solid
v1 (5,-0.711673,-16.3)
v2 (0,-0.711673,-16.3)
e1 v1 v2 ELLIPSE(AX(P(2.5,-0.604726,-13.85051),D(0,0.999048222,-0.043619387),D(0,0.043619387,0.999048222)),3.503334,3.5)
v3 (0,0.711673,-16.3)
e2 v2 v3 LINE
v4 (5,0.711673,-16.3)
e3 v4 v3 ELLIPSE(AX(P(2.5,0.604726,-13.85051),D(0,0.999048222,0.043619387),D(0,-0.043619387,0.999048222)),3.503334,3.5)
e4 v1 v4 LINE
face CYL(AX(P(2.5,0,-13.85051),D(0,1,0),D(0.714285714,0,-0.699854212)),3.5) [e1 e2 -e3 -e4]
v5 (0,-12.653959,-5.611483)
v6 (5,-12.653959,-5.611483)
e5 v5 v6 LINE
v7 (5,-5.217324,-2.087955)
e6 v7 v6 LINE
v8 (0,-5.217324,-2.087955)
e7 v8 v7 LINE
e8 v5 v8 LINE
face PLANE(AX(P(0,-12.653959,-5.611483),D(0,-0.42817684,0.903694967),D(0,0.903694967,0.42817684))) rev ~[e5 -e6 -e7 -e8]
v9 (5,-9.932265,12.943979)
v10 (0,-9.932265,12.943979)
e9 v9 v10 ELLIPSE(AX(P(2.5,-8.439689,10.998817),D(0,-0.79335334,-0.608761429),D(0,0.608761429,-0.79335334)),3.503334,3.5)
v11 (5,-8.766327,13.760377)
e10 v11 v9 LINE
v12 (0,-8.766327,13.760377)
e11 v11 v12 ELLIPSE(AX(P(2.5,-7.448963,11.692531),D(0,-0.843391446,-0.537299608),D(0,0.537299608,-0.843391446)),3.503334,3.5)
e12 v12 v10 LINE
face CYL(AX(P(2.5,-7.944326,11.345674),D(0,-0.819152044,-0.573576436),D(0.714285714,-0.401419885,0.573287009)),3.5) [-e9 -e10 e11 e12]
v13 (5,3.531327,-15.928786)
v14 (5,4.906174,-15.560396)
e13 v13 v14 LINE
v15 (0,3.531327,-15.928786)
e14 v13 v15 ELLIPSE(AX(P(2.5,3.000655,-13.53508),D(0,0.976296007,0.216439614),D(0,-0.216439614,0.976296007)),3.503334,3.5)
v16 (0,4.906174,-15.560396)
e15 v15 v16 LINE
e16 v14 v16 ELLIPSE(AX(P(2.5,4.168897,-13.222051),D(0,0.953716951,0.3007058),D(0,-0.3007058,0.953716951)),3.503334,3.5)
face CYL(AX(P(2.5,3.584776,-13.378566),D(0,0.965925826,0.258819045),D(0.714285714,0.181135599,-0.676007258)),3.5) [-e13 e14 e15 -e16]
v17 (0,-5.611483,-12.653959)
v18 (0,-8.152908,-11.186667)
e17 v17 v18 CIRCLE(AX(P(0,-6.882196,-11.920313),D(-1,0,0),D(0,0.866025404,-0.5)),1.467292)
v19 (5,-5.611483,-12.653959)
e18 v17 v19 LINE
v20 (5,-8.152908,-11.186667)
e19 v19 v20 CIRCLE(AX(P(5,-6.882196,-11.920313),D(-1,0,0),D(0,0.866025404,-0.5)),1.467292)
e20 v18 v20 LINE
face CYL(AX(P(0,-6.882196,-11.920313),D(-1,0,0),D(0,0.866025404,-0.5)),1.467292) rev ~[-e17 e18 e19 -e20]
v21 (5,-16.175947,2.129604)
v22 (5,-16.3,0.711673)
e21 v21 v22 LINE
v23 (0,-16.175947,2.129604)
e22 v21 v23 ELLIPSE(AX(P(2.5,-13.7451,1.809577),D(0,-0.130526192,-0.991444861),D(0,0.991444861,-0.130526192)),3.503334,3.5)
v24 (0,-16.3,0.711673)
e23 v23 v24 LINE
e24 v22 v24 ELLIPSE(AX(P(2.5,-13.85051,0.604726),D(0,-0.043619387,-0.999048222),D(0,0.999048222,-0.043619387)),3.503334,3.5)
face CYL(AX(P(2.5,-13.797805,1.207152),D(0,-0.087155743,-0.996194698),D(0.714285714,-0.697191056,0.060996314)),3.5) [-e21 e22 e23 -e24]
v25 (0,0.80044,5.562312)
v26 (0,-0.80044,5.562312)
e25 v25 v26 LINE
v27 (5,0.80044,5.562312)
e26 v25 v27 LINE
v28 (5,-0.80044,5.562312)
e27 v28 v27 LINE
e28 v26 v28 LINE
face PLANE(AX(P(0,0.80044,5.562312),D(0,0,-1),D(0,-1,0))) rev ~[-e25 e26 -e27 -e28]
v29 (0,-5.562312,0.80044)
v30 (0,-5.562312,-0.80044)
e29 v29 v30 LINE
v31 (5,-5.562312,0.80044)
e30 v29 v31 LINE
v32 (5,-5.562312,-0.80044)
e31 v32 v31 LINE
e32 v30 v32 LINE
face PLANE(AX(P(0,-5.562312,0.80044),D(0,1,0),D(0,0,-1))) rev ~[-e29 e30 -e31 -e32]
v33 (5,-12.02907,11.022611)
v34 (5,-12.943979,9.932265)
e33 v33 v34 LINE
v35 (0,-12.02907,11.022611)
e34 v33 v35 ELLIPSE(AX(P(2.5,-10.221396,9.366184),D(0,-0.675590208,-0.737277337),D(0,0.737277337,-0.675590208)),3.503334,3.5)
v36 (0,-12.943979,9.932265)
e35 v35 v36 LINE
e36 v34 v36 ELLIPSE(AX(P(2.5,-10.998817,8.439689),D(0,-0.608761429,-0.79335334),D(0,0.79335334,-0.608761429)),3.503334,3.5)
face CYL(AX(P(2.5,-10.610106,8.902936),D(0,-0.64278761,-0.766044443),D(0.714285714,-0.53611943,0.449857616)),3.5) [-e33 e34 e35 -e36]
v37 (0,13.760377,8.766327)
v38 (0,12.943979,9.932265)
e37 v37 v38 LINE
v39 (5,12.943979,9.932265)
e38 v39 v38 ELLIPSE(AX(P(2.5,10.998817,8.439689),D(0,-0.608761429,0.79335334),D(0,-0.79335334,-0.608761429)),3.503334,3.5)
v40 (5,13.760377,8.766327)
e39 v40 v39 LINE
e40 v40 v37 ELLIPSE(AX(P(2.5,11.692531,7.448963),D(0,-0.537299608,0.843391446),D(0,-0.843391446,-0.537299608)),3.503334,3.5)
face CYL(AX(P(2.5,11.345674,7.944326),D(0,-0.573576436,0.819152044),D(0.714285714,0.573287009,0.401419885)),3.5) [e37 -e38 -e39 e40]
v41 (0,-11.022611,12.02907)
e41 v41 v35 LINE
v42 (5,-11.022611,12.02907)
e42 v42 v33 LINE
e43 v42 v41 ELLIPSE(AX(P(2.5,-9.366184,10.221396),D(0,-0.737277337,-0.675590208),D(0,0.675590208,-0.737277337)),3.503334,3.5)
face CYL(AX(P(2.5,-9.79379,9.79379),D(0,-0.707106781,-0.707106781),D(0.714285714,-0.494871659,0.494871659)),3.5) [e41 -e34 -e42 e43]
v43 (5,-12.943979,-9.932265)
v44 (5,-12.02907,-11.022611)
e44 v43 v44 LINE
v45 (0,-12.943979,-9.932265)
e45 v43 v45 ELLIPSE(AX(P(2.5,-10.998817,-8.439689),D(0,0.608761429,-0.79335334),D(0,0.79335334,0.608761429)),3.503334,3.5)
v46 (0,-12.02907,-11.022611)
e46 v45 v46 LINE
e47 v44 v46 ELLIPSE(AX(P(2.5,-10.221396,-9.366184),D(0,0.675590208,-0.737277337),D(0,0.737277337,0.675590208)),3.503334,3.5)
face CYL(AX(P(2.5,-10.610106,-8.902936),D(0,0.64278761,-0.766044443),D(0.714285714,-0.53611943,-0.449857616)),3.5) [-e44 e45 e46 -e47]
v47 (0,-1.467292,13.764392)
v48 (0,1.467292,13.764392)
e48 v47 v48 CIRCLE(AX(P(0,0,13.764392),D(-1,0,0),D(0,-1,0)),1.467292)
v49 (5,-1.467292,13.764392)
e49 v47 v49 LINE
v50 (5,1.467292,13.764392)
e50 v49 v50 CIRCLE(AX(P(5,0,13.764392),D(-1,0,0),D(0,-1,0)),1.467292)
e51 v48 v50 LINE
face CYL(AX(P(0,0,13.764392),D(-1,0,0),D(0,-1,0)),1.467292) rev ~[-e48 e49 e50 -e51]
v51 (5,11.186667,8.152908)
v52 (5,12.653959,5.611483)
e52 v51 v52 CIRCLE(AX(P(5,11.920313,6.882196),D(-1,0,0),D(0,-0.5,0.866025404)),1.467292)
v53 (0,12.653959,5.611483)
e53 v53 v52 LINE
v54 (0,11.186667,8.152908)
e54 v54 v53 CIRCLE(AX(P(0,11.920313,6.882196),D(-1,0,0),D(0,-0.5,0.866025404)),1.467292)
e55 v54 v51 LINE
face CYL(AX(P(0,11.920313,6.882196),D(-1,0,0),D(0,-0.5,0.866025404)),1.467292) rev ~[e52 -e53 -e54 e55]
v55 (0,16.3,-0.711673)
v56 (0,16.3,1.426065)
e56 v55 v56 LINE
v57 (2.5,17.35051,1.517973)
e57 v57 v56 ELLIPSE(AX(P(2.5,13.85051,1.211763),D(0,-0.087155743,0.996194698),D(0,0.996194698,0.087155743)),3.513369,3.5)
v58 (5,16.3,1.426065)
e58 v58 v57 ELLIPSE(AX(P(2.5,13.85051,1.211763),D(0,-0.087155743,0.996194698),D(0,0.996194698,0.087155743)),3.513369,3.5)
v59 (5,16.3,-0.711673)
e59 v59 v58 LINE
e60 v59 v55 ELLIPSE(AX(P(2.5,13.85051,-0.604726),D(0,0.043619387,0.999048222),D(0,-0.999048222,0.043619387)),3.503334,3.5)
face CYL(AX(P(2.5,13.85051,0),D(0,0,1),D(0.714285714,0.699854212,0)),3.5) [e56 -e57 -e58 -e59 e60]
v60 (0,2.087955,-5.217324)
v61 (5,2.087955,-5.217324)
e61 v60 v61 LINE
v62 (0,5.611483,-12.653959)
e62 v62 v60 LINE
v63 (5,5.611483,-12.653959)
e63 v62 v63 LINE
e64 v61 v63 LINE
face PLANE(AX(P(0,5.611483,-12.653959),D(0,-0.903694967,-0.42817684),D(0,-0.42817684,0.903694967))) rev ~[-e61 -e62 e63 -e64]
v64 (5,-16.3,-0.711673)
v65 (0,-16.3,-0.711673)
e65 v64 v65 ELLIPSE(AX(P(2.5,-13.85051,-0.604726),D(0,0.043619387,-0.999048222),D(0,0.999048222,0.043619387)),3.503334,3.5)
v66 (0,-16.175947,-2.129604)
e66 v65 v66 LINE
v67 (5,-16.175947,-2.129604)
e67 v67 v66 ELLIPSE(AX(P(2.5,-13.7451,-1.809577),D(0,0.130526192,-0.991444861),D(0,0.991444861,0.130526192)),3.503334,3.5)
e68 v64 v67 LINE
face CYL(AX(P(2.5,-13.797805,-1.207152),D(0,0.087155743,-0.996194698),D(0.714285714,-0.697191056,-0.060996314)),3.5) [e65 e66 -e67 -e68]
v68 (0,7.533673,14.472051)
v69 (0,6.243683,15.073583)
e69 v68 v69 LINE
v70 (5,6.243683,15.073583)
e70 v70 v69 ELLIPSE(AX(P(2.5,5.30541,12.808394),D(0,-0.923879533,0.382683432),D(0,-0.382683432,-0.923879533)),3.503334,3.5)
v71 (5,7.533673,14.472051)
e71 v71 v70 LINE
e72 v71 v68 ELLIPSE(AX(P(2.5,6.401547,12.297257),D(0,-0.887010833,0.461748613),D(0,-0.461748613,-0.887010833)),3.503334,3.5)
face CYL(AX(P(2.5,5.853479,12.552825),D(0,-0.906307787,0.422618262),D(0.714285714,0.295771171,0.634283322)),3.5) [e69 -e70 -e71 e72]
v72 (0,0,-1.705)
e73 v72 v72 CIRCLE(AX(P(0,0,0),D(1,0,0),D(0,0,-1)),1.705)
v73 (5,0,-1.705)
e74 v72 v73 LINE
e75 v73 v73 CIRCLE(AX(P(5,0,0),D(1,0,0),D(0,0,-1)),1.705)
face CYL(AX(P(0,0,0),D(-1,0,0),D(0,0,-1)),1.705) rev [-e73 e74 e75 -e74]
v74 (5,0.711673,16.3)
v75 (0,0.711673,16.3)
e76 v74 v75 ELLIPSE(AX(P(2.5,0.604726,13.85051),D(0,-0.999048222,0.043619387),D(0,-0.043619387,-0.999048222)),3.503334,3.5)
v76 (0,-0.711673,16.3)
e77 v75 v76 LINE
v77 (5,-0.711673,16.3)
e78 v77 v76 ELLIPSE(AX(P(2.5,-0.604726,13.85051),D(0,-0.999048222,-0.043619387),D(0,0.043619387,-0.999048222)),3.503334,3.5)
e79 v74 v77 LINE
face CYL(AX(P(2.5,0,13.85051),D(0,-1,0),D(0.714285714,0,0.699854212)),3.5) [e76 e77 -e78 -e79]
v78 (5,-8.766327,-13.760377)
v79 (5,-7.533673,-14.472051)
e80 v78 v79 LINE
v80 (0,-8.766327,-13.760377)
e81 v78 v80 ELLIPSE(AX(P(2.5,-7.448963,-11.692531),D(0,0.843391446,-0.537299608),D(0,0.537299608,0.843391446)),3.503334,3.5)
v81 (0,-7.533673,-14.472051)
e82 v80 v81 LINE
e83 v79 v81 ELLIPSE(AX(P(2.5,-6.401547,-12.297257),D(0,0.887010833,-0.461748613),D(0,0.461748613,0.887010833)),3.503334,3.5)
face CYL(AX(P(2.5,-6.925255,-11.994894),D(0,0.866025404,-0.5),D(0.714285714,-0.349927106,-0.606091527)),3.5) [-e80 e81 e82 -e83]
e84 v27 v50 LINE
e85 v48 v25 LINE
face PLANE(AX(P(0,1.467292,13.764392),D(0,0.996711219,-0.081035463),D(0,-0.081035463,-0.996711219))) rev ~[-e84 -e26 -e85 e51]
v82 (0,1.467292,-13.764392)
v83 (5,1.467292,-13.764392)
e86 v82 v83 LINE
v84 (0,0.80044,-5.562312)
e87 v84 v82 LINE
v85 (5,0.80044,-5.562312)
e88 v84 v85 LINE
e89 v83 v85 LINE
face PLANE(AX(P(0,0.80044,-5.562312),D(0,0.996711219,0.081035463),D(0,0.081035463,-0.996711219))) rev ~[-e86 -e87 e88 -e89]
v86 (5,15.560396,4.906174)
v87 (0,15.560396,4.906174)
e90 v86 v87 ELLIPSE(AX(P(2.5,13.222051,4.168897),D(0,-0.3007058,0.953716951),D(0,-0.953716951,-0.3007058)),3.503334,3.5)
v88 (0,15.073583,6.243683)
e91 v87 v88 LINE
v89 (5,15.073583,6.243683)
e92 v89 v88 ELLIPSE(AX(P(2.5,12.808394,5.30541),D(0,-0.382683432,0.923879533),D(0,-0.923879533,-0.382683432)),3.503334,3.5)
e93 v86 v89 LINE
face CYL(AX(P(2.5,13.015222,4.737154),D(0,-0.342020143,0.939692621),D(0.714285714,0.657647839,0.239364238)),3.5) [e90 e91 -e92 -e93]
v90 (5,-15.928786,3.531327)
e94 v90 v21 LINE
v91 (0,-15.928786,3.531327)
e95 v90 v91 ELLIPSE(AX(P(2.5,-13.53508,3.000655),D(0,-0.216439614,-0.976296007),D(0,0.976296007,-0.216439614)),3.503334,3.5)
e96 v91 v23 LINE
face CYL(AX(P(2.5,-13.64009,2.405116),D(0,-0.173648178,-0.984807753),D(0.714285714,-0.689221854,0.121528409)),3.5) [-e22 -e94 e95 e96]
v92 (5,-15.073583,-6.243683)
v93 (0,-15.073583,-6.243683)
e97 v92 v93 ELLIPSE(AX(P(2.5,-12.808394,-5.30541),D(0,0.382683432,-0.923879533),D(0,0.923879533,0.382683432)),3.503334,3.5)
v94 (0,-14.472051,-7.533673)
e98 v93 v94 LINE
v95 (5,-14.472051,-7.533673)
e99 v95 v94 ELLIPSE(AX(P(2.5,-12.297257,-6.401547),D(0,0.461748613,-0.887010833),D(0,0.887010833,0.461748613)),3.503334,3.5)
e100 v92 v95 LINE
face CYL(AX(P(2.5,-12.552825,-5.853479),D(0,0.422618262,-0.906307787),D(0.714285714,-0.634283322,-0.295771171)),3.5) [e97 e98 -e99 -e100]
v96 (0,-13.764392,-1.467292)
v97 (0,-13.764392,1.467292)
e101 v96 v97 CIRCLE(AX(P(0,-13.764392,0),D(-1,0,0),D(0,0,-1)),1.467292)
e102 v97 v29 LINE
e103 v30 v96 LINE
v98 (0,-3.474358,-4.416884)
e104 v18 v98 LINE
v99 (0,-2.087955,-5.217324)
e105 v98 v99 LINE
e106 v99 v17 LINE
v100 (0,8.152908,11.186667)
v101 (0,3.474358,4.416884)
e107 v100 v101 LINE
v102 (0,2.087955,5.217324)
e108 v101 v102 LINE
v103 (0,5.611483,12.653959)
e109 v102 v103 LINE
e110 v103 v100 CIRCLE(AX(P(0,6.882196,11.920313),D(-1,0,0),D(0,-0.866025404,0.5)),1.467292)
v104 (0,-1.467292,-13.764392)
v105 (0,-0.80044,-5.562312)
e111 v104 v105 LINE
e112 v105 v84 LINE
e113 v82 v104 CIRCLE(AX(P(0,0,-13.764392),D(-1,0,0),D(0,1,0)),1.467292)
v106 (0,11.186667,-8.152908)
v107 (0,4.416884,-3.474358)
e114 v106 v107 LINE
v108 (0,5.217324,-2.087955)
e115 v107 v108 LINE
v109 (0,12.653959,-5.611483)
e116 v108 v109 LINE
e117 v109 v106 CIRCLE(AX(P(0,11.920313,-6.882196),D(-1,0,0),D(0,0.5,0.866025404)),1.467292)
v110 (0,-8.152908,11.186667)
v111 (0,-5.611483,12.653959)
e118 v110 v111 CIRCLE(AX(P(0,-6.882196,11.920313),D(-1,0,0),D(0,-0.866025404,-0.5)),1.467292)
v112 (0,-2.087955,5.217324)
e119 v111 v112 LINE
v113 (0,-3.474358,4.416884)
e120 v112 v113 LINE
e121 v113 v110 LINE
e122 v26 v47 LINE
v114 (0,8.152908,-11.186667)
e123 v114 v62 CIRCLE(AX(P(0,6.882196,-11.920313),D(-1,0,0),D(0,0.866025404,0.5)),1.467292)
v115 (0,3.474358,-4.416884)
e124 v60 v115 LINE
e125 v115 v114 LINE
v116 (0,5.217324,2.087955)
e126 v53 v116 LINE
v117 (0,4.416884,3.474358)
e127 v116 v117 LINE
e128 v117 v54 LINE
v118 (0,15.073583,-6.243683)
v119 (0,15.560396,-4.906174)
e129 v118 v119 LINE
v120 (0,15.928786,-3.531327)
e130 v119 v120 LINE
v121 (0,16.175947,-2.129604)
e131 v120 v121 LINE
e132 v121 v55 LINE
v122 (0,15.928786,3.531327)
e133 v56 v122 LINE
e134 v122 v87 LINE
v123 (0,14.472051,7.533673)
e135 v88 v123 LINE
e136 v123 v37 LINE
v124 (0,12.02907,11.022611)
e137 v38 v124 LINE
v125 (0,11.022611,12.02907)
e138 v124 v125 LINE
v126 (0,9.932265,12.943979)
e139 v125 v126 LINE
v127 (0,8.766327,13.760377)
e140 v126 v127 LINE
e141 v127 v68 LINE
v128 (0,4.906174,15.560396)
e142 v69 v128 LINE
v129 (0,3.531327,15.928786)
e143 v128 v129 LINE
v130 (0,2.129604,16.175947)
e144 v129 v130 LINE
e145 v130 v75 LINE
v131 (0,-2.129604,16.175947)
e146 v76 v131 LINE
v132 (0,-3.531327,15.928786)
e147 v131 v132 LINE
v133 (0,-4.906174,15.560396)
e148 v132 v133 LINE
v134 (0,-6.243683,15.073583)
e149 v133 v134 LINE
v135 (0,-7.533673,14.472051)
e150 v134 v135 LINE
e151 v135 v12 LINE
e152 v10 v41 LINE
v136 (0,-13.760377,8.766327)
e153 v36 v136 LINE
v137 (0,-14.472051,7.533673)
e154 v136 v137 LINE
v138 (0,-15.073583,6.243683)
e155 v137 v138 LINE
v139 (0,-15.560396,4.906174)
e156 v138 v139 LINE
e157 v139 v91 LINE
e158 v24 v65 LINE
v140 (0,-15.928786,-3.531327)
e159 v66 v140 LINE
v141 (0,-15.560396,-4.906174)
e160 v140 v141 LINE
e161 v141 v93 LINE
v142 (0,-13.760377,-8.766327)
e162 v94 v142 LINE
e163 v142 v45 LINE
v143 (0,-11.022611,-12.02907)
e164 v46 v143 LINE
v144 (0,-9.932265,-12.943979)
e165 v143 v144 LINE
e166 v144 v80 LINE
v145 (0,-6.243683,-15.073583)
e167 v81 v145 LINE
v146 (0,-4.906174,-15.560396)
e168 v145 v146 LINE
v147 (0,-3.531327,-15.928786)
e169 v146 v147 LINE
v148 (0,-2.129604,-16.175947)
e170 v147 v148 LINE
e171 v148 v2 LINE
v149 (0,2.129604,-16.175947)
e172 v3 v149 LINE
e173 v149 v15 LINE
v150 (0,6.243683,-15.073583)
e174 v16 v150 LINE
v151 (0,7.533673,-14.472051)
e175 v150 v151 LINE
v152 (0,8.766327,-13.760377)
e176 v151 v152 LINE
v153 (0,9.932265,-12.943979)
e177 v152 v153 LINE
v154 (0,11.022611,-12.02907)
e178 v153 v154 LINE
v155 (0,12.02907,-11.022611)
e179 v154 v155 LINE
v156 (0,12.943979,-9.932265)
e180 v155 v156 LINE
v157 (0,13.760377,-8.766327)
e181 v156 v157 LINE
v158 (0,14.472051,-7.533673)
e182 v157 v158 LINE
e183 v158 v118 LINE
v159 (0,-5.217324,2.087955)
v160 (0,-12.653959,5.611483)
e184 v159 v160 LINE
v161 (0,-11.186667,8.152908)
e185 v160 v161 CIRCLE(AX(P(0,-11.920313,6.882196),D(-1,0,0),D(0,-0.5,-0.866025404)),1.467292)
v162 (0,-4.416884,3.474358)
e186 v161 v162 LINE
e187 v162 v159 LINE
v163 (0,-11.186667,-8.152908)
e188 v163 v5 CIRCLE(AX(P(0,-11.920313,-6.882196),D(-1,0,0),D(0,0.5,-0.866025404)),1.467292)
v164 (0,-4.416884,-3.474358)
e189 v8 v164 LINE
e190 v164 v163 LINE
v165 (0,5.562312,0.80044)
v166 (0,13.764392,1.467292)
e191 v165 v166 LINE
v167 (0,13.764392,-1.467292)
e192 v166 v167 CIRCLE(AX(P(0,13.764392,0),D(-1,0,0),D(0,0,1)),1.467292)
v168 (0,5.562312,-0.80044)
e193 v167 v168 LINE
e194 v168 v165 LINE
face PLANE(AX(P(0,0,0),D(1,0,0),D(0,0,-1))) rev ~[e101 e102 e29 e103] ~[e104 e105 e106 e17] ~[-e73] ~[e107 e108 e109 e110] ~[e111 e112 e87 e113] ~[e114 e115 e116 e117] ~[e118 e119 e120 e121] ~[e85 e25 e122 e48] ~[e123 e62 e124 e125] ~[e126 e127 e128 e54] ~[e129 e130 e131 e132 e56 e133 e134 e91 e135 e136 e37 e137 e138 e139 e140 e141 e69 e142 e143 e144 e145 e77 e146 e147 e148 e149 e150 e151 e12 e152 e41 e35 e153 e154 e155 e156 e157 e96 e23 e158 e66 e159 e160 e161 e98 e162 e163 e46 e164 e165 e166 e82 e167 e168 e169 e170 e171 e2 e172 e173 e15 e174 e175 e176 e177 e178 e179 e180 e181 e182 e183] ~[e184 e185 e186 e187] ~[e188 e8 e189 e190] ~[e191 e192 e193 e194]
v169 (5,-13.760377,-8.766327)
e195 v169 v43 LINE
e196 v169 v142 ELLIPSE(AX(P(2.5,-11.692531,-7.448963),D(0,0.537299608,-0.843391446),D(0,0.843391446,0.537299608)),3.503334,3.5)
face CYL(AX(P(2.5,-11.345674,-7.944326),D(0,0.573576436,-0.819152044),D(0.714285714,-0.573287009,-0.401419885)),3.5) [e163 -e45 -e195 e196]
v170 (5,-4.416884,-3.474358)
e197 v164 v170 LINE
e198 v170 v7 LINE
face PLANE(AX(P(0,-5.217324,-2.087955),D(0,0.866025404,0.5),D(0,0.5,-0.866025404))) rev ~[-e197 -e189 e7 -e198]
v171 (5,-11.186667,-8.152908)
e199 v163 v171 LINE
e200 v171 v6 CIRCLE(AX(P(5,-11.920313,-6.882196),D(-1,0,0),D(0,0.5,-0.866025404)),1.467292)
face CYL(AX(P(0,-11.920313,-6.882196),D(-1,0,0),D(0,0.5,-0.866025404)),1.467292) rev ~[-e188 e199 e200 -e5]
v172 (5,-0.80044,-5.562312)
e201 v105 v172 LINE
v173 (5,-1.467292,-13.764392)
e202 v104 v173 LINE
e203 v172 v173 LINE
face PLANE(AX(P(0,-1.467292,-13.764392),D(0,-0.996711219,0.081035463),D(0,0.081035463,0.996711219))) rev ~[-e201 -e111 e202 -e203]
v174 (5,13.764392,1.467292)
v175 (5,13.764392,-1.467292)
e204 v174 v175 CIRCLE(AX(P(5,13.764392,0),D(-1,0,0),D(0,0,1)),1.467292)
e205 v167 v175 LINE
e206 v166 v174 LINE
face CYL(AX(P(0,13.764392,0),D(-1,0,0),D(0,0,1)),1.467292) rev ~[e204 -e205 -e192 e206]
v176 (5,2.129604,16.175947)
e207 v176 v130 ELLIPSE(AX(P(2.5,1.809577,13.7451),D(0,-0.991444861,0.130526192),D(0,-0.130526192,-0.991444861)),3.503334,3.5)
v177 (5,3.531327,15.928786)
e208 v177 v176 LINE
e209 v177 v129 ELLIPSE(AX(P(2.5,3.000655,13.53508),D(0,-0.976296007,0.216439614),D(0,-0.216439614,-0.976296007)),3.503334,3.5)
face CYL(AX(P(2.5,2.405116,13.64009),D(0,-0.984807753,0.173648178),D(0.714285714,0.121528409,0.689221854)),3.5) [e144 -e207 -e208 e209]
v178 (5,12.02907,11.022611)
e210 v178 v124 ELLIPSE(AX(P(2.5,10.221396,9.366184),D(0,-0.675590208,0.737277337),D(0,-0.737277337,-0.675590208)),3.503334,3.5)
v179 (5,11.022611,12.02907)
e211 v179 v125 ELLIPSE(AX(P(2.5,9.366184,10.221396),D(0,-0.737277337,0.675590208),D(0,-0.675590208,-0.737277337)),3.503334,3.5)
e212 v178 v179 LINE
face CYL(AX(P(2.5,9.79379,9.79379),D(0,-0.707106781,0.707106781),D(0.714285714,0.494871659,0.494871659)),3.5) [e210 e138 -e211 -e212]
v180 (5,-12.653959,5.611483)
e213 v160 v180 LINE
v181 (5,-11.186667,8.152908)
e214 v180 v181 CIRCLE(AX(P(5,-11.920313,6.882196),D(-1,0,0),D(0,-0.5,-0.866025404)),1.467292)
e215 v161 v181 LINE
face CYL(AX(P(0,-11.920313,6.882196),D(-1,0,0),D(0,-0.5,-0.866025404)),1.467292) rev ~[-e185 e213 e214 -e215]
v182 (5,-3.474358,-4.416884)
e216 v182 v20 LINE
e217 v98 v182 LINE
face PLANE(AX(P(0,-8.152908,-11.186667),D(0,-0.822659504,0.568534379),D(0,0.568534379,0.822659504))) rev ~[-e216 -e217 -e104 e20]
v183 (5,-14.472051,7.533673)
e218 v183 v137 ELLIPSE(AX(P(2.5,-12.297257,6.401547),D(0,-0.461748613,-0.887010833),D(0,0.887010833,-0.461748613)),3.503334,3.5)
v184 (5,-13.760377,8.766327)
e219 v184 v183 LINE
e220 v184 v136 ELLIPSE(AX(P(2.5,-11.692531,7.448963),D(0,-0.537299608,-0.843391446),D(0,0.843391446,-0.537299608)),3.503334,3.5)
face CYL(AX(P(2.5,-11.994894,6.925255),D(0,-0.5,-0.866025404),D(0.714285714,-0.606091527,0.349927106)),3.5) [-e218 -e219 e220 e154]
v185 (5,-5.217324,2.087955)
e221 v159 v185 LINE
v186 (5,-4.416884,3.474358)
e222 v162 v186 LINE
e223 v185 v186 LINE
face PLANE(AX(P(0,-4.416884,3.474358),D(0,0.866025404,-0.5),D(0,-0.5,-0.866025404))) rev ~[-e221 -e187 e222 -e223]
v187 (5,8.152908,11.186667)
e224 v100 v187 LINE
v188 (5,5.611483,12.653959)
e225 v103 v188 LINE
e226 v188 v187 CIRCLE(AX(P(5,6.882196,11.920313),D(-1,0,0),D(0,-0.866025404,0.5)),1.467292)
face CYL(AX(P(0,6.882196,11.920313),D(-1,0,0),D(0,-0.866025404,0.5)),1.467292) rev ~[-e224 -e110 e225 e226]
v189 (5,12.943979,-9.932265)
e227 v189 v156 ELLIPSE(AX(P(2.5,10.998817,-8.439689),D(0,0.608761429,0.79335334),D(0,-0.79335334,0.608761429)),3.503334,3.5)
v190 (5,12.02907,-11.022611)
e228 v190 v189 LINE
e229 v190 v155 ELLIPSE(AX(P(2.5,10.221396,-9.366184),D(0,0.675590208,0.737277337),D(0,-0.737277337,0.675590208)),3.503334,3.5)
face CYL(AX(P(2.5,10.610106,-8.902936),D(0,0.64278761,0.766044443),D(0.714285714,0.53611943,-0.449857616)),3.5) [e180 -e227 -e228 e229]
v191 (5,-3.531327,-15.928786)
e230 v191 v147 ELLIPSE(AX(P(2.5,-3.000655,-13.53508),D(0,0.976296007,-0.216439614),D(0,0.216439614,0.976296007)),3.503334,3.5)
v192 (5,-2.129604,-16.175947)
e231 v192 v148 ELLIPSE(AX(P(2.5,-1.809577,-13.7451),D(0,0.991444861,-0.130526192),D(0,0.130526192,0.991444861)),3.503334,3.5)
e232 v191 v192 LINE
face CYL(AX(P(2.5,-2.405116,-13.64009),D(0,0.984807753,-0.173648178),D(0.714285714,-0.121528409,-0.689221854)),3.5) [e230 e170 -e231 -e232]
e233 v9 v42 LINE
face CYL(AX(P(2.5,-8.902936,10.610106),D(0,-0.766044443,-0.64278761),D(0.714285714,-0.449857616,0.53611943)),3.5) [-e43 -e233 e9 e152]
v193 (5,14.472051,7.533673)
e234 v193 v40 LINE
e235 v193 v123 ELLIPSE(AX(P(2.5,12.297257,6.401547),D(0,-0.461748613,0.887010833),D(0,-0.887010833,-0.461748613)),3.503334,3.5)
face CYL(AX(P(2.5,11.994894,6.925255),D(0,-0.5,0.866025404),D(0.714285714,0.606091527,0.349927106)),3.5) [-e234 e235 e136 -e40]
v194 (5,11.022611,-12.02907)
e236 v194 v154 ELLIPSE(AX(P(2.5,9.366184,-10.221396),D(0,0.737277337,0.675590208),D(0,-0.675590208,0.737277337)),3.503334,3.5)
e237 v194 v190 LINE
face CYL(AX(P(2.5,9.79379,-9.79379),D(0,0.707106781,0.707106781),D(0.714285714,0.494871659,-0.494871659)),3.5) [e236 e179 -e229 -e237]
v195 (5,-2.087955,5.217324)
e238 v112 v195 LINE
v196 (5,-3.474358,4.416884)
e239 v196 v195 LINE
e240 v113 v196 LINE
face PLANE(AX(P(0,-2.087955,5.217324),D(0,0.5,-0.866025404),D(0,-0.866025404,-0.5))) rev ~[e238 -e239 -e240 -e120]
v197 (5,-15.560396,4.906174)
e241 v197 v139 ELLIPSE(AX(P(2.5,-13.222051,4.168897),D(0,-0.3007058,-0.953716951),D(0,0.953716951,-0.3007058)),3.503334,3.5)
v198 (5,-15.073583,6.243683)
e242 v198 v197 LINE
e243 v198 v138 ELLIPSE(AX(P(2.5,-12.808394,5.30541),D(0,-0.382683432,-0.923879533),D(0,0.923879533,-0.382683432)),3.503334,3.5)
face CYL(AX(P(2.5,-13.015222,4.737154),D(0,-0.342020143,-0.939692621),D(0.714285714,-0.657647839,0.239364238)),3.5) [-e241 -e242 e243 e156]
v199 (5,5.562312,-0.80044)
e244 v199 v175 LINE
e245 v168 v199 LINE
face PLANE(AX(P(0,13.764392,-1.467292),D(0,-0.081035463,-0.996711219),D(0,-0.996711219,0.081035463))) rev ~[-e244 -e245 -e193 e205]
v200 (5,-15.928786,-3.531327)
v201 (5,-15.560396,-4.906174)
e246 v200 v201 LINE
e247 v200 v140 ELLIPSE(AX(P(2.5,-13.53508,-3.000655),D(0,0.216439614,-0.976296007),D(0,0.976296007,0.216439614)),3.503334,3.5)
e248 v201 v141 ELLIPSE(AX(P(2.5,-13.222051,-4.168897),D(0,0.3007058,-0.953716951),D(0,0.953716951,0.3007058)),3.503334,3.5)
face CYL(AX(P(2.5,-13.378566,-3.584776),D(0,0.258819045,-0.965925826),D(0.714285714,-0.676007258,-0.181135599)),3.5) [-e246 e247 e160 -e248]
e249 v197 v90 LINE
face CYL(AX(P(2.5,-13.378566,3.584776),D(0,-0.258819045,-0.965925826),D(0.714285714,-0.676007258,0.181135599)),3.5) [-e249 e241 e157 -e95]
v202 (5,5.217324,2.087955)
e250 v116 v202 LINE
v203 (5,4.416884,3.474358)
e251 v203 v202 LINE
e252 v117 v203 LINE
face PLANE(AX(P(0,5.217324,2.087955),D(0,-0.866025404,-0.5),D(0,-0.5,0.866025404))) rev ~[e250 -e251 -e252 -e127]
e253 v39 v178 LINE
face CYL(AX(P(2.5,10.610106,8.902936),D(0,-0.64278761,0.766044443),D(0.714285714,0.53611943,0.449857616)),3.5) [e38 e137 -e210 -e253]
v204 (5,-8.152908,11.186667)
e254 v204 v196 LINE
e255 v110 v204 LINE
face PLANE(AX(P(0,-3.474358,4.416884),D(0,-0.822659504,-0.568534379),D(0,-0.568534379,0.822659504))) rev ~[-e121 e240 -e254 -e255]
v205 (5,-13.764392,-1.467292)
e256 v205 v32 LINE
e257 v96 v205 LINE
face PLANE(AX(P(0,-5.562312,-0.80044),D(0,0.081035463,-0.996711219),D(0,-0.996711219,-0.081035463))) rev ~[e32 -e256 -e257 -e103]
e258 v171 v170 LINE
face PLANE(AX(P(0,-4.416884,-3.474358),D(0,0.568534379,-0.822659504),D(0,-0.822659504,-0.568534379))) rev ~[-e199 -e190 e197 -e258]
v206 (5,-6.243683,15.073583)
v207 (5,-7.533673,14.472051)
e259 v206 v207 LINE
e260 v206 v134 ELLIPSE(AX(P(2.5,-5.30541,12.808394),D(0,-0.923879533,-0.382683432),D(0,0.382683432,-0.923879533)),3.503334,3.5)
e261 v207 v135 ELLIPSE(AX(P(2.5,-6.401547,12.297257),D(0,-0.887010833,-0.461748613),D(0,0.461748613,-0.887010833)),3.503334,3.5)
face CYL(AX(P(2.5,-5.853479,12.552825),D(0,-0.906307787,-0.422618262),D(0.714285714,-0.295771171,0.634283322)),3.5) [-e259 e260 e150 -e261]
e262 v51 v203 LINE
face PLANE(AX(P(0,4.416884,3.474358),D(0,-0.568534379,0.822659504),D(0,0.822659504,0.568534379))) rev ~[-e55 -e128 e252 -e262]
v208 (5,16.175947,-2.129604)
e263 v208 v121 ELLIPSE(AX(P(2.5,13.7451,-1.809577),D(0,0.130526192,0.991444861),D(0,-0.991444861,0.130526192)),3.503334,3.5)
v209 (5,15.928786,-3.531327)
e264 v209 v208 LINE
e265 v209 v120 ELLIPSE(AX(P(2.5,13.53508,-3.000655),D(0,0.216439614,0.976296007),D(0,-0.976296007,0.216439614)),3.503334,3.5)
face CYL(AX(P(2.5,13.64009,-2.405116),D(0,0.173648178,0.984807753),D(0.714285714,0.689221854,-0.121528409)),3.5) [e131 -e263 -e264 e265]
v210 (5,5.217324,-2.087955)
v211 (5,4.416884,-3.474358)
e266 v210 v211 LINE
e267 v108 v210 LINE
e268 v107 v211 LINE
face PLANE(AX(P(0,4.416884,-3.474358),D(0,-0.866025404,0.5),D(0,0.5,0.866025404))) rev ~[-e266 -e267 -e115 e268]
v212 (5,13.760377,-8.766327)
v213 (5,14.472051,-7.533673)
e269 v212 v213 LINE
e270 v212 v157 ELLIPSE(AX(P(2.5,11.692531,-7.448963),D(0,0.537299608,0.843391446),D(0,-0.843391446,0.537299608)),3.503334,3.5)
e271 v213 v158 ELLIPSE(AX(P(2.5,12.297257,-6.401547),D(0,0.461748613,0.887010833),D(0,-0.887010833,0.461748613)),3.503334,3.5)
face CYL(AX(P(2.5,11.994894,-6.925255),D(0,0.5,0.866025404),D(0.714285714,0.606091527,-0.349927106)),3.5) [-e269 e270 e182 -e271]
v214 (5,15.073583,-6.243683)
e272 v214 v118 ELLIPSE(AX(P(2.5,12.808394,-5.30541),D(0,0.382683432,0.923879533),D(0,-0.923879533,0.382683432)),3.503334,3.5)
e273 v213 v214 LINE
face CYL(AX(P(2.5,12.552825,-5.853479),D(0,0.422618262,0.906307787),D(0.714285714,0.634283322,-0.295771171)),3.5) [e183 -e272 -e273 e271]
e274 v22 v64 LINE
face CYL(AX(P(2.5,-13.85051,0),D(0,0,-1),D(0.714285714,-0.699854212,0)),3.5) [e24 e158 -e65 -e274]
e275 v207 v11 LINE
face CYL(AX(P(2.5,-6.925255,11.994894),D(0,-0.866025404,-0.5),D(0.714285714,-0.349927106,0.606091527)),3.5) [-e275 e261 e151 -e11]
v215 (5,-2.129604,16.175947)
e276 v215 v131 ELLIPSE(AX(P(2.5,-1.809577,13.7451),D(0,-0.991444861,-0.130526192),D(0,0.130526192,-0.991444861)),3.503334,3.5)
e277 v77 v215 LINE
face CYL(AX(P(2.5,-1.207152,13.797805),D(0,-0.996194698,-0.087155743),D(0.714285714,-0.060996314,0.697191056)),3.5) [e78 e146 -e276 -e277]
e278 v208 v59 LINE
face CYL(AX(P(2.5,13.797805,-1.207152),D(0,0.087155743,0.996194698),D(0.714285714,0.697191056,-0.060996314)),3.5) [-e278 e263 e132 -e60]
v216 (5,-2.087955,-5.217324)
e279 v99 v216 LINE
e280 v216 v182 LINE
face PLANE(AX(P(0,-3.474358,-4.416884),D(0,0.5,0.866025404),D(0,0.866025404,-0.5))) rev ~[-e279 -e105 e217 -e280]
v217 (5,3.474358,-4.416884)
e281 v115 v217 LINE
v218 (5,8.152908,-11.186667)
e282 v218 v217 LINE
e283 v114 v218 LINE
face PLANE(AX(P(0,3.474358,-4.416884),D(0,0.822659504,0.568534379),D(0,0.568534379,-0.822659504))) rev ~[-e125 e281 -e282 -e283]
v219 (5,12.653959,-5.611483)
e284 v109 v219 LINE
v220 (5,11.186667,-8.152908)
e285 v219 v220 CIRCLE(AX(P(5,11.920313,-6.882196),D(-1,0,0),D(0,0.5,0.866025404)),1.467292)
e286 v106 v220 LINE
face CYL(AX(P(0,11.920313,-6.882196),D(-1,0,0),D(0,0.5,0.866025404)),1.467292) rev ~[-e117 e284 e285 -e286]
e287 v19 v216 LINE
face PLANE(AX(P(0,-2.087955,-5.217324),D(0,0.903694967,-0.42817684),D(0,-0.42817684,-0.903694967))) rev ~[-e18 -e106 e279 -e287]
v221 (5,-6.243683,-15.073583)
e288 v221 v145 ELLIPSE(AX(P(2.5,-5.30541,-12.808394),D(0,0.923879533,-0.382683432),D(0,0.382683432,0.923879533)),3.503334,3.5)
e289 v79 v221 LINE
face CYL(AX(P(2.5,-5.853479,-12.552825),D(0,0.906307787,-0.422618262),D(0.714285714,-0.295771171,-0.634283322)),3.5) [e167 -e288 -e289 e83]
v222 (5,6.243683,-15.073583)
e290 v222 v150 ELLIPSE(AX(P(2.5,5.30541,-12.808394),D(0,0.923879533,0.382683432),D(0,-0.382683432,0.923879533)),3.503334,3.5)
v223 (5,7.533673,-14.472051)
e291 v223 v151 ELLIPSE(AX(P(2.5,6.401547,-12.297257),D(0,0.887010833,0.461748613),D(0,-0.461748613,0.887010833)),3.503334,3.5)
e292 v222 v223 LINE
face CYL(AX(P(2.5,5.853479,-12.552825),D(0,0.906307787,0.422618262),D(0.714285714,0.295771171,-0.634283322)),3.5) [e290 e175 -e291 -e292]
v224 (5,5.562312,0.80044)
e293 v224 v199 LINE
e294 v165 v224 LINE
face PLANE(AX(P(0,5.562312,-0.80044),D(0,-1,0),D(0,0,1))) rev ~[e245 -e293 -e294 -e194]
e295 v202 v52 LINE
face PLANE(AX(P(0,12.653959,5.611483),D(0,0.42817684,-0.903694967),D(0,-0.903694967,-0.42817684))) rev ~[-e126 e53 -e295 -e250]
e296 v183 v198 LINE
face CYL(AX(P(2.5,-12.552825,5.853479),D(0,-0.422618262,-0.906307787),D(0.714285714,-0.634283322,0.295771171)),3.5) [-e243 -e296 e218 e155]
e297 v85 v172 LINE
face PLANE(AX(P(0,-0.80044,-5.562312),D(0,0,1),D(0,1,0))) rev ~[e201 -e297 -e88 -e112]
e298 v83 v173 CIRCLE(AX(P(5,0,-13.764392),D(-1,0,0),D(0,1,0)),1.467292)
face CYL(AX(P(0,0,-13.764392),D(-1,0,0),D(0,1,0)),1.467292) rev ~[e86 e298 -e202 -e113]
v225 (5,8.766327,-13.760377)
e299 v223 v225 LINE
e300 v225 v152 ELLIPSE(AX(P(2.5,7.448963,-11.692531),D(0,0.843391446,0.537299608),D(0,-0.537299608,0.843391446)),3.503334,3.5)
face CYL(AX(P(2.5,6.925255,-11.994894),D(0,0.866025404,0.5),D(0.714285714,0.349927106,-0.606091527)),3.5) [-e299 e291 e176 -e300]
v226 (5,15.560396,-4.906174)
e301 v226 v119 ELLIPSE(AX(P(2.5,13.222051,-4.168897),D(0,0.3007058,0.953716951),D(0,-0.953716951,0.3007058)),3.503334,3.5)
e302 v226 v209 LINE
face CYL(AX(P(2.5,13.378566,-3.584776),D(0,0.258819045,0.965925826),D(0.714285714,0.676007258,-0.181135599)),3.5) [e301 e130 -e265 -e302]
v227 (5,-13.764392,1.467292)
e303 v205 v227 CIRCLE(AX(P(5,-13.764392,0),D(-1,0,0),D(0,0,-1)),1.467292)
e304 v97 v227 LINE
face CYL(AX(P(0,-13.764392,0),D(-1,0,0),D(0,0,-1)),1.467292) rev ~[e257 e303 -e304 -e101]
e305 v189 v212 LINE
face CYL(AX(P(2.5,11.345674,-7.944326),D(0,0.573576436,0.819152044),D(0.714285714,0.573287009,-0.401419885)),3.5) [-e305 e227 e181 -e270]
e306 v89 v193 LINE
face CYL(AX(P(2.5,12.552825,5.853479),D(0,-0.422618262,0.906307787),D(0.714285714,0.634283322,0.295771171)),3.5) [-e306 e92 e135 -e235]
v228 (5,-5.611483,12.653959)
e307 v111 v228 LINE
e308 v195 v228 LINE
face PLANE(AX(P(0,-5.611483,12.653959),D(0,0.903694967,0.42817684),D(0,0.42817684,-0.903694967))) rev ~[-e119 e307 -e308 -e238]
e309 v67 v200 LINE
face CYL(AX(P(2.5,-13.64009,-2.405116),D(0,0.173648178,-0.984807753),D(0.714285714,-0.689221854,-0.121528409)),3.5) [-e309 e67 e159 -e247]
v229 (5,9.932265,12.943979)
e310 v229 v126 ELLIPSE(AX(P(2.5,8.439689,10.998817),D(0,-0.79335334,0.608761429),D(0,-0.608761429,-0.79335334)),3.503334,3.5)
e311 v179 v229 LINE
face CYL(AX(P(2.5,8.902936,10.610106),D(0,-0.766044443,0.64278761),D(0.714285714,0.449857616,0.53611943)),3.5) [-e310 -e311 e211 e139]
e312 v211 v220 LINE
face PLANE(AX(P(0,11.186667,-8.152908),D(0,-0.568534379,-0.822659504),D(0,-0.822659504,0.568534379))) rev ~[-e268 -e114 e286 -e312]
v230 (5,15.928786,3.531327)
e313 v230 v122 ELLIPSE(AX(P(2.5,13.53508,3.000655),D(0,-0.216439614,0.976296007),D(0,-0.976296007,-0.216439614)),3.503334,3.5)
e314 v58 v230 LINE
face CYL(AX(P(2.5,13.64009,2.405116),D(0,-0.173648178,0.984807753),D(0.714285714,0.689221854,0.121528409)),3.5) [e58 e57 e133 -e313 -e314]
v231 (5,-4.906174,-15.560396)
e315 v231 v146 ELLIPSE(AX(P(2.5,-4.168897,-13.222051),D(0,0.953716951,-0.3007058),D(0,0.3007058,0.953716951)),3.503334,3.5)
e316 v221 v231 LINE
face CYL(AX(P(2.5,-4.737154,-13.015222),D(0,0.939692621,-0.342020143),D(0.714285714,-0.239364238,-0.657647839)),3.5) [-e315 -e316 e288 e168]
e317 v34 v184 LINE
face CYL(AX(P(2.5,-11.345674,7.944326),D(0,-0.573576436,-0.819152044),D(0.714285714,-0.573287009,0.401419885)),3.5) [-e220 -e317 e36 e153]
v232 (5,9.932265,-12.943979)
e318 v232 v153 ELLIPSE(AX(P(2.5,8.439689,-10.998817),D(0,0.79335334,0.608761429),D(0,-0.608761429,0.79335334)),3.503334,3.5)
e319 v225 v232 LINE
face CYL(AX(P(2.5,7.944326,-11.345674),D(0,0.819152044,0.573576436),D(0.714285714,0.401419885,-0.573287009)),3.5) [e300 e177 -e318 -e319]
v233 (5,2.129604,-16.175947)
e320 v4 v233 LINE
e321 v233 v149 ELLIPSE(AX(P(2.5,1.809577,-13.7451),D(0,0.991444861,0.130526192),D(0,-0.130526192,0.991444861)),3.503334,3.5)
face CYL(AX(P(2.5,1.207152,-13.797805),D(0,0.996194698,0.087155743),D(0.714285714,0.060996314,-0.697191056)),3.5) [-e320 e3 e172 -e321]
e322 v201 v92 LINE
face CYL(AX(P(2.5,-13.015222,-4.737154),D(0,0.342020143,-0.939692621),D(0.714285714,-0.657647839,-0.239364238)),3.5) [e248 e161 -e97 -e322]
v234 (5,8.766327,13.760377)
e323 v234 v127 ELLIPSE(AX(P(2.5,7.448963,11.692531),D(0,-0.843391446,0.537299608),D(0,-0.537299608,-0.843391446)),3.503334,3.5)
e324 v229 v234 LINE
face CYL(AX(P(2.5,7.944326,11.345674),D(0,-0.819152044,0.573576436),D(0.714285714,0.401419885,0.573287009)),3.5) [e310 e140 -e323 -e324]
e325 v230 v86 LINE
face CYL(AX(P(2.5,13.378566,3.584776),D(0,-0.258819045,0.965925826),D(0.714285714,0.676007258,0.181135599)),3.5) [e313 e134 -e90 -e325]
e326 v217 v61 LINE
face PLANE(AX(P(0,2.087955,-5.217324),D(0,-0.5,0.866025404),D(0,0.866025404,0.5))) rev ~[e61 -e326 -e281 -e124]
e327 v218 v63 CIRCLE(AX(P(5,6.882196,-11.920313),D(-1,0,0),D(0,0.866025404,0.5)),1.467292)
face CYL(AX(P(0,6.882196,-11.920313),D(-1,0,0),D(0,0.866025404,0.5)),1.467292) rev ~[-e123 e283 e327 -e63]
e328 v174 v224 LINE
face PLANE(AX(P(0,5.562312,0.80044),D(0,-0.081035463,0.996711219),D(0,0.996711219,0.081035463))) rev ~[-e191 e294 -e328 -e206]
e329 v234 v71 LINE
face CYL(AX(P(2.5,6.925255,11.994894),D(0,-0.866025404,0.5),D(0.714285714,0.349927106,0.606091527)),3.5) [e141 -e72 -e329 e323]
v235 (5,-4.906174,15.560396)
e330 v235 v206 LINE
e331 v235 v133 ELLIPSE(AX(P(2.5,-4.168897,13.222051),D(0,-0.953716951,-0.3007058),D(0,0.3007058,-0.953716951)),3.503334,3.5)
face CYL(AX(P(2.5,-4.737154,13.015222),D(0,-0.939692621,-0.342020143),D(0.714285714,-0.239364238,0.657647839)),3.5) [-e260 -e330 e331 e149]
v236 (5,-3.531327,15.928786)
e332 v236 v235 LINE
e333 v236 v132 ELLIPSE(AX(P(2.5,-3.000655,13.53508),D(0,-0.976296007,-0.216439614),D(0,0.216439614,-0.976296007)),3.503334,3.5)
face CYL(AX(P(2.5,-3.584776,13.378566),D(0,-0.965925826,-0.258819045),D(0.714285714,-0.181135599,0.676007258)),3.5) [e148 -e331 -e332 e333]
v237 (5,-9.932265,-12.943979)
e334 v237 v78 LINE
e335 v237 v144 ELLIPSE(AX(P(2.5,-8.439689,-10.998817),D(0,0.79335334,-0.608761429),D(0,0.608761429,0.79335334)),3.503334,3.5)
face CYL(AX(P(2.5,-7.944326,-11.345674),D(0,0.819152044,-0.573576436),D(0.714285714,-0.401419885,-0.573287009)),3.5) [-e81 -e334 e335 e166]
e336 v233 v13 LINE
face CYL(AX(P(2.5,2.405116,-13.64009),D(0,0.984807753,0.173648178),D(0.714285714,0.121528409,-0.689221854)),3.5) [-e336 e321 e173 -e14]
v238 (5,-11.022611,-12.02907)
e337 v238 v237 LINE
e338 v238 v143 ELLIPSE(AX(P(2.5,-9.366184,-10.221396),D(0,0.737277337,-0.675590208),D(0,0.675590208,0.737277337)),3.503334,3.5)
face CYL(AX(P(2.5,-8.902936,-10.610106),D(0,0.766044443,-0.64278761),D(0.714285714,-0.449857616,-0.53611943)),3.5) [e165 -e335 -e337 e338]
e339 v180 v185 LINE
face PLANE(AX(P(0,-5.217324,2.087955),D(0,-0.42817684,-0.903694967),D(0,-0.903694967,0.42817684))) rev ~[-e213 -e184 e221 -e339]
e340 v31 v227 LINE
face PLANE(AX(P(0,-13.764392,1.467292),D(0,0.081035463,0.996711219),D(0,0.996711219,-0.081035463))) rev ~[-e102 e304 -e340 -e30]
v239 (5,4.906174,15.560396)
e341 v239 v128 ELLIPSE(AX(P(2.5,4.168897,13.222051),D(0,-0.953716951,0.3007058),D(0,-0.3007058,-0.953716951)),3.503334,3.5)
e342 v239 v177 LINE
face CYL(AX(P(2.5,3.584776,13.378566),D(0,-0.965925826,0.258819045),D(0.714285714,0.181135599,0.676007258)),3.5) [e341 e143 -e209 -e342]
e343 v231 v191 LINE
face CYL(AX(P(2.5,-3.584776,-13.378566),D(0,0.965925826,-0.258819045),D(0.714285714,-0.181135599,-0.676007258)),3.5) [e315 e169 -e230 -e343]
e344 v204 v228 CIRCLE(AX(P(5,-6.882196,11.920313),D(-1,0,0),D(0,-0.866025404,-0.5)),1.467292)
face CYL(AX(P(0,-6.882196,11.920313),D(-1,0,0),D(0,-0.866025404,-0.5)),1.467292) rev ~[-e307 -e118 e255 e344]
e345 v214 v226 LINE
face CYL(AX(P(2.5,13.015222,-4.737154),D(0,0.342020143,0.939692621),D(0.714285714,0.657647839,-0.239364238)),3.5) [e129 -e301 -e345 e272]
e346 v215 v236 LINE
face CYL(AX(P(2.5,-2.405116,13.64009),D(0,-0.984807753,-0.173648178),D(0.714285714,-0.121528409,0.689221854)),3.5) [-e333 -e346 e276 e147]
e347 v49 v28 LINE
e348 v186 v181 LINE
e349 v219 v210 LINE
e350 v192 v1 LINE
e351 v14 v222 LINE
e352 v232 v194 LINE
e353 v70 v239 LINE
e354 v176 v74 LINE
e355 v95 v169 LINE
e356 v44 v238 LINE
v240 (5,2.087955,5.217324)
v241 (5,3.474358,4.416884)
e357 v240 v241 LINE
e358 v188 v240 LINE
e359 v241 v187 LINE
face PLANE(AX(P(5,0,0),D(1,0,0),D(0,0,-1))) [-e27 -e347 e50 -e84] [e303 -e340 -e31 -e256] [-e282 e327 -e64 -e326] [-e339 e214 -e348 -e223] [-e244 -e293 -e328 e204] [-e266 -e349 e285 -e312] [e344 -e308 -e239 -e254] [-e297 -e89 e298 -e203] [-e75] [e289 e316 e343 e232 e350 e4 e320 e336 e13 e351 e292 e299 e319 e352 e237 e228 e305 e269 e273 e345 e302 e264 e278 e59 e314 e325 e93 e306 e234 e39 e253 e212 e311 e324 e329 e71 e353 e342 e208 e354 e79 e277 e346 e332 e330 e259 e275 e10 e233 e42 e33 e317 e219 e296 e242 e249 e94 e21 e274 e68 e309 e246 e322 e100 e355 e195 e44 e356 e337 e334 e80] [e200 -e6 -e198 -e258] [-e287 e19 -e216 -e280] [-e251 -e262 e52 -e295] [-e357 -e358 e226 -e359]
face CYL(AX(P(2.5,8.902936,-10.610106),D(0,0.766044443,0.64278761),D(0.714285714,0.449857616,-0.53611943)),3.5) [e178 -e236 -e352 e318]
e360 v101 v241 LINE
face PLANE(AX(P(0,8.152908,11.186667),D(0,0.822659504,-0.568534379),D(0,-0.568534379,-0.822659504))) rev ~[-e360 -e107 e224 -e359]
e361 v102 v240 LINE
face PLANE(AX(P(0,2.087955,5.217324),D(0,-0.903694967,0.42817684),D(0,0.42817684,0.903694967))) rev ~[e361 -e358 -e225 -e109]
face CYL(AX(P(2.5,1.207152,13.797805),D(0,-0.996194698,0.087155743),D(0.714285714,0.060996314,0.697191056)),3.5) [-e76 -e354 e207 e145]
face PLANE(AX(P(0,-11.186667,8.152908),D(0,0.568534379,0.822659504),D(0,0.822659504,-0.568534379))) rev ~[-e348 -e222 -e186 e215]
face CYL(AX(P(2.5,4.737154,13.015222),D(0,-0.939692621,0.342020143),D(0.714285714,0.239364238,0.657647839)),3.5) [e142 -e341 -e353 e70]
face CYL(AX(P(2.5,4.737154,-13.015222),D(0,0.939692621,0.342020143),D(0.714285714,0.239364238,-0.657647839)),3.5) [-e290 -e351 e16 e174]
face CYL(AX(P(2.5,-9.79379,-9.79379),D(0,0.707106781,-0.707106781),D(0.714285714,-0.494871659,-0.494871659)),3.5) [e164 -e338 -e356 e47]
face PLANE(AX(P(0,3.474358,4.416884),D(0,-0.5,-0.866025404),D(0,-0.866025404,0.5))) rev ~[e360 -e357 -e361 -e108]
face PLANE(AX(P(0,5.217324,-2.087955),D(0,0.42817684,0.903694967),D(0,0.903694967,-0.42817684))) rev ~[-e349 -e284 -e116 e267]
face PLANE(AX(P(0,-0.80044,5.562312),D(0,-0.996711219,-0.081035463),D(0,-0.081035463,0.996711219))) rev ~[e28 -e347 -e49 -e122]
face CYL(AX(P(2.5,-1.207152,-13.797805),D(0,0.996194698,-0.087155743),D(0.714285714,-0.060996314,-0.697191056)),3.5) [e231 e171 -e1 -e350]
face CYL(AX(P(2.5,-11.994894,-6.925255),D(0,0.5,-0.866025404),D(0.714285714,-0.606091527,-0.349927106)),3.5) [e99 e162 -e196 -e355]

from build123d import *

# Parameters (mm, degrees)
SKETCH1_R           = 20
SKETCH1_R_2         = 1.705
BOSS_EXTRUDE1_DEPTH = 5
CUT_EXTRUDE1_DEPTH  = 8
CIRPATTERN1_COUNT   = 12
CUT_EXTRUDE2_DEPTH  = 2.5
CIRPATTERN2_COUNT   = 71
CIRPATTERN2_ANGLE   = 350


with BuildPart() as part:
    # Sketch1 → Boss-Extrude1 (new body)
    with BuildSketch(Plane(origin=(0, 0, 0), x_dir=(0, 0, -1), z_dir=(1, 0, 0))):
        Circle(SKETCH1_R)
        Circle(SKETCH1_R_2, mode=Mode.SUBTRACT)
    extrude(amount=BOSS_EXTRUDE1_DEPTH)

    # Sketch2 → Cut-Extrude1 (cut)
    with BuildSketch(Plane(origin=(0, 0, 0), x_dir=(0, 0, -1), z_dir=(1, 0, 0))):
        with BuildLine():
            Line((1.467292325, 13.76439168), (0.800439906, 5.562312437))
            Line((0.800439906, 5.562312437), (-0.800439906, 5.562312437))
            Line((-0.800439906, 5.562312437), (-1.467292325, 13.76439168))
            ThreePointArc((-1.467292325, 13.76439168), (0, 15.231684005), (1.467292325, 13.76439168))
        make_face()
    cut_extrude1 = extrude(amount=CUT_EXTRUDE1_DEPTH, mode=Mode.SUBTRACT)

    # CirPattern1: Cut-Extrude1 ×12 about axis
    cirpattern1_axis = Axis((0, 0, 0), (1, 0, 0))
    for i in range(1, CIRPATTERN1_COUNT):
        add(cut_extrude1.rotate(cirpattern1_axis, i * 360 / CIRPATTERN1_COUNT), mode=Mode.SUBTRACT)

    # Sketch6 → Cut-Extrude2 (cut, symmetric)
    with BuildSketch(Plane.XY):
        with BuildLine():
            Line((0, 16.3), (0, 20))
            Line((0, 20), (5, 20))
            Line((5, 20), (5, 16.3))
            ThreePointArc((5, 16.3), (2.5, 17.350510257), (0, 16.3))
        make_face()
    cut_extrude2 = extrude(amount=CUT_EXTRUDE2_DEPTH, both=True, mode=Mode.SUBTRACT)

    # CirPattern2: Cut-Extrude2 ×71 about axis
    cirpattern2_axis = Axis((5, 0, 0), (-1, 0, 0))
    for i in range(1, CIRPATTERN2_COUNT):
        add(cut_extrude2.rotate(cirpattern2_axis, i * CIRPATTERN2_ANGLE / (CIRPATTERN2_COUNT - 1)), mode=Mode.SUBTRACT)


solid = part.part
